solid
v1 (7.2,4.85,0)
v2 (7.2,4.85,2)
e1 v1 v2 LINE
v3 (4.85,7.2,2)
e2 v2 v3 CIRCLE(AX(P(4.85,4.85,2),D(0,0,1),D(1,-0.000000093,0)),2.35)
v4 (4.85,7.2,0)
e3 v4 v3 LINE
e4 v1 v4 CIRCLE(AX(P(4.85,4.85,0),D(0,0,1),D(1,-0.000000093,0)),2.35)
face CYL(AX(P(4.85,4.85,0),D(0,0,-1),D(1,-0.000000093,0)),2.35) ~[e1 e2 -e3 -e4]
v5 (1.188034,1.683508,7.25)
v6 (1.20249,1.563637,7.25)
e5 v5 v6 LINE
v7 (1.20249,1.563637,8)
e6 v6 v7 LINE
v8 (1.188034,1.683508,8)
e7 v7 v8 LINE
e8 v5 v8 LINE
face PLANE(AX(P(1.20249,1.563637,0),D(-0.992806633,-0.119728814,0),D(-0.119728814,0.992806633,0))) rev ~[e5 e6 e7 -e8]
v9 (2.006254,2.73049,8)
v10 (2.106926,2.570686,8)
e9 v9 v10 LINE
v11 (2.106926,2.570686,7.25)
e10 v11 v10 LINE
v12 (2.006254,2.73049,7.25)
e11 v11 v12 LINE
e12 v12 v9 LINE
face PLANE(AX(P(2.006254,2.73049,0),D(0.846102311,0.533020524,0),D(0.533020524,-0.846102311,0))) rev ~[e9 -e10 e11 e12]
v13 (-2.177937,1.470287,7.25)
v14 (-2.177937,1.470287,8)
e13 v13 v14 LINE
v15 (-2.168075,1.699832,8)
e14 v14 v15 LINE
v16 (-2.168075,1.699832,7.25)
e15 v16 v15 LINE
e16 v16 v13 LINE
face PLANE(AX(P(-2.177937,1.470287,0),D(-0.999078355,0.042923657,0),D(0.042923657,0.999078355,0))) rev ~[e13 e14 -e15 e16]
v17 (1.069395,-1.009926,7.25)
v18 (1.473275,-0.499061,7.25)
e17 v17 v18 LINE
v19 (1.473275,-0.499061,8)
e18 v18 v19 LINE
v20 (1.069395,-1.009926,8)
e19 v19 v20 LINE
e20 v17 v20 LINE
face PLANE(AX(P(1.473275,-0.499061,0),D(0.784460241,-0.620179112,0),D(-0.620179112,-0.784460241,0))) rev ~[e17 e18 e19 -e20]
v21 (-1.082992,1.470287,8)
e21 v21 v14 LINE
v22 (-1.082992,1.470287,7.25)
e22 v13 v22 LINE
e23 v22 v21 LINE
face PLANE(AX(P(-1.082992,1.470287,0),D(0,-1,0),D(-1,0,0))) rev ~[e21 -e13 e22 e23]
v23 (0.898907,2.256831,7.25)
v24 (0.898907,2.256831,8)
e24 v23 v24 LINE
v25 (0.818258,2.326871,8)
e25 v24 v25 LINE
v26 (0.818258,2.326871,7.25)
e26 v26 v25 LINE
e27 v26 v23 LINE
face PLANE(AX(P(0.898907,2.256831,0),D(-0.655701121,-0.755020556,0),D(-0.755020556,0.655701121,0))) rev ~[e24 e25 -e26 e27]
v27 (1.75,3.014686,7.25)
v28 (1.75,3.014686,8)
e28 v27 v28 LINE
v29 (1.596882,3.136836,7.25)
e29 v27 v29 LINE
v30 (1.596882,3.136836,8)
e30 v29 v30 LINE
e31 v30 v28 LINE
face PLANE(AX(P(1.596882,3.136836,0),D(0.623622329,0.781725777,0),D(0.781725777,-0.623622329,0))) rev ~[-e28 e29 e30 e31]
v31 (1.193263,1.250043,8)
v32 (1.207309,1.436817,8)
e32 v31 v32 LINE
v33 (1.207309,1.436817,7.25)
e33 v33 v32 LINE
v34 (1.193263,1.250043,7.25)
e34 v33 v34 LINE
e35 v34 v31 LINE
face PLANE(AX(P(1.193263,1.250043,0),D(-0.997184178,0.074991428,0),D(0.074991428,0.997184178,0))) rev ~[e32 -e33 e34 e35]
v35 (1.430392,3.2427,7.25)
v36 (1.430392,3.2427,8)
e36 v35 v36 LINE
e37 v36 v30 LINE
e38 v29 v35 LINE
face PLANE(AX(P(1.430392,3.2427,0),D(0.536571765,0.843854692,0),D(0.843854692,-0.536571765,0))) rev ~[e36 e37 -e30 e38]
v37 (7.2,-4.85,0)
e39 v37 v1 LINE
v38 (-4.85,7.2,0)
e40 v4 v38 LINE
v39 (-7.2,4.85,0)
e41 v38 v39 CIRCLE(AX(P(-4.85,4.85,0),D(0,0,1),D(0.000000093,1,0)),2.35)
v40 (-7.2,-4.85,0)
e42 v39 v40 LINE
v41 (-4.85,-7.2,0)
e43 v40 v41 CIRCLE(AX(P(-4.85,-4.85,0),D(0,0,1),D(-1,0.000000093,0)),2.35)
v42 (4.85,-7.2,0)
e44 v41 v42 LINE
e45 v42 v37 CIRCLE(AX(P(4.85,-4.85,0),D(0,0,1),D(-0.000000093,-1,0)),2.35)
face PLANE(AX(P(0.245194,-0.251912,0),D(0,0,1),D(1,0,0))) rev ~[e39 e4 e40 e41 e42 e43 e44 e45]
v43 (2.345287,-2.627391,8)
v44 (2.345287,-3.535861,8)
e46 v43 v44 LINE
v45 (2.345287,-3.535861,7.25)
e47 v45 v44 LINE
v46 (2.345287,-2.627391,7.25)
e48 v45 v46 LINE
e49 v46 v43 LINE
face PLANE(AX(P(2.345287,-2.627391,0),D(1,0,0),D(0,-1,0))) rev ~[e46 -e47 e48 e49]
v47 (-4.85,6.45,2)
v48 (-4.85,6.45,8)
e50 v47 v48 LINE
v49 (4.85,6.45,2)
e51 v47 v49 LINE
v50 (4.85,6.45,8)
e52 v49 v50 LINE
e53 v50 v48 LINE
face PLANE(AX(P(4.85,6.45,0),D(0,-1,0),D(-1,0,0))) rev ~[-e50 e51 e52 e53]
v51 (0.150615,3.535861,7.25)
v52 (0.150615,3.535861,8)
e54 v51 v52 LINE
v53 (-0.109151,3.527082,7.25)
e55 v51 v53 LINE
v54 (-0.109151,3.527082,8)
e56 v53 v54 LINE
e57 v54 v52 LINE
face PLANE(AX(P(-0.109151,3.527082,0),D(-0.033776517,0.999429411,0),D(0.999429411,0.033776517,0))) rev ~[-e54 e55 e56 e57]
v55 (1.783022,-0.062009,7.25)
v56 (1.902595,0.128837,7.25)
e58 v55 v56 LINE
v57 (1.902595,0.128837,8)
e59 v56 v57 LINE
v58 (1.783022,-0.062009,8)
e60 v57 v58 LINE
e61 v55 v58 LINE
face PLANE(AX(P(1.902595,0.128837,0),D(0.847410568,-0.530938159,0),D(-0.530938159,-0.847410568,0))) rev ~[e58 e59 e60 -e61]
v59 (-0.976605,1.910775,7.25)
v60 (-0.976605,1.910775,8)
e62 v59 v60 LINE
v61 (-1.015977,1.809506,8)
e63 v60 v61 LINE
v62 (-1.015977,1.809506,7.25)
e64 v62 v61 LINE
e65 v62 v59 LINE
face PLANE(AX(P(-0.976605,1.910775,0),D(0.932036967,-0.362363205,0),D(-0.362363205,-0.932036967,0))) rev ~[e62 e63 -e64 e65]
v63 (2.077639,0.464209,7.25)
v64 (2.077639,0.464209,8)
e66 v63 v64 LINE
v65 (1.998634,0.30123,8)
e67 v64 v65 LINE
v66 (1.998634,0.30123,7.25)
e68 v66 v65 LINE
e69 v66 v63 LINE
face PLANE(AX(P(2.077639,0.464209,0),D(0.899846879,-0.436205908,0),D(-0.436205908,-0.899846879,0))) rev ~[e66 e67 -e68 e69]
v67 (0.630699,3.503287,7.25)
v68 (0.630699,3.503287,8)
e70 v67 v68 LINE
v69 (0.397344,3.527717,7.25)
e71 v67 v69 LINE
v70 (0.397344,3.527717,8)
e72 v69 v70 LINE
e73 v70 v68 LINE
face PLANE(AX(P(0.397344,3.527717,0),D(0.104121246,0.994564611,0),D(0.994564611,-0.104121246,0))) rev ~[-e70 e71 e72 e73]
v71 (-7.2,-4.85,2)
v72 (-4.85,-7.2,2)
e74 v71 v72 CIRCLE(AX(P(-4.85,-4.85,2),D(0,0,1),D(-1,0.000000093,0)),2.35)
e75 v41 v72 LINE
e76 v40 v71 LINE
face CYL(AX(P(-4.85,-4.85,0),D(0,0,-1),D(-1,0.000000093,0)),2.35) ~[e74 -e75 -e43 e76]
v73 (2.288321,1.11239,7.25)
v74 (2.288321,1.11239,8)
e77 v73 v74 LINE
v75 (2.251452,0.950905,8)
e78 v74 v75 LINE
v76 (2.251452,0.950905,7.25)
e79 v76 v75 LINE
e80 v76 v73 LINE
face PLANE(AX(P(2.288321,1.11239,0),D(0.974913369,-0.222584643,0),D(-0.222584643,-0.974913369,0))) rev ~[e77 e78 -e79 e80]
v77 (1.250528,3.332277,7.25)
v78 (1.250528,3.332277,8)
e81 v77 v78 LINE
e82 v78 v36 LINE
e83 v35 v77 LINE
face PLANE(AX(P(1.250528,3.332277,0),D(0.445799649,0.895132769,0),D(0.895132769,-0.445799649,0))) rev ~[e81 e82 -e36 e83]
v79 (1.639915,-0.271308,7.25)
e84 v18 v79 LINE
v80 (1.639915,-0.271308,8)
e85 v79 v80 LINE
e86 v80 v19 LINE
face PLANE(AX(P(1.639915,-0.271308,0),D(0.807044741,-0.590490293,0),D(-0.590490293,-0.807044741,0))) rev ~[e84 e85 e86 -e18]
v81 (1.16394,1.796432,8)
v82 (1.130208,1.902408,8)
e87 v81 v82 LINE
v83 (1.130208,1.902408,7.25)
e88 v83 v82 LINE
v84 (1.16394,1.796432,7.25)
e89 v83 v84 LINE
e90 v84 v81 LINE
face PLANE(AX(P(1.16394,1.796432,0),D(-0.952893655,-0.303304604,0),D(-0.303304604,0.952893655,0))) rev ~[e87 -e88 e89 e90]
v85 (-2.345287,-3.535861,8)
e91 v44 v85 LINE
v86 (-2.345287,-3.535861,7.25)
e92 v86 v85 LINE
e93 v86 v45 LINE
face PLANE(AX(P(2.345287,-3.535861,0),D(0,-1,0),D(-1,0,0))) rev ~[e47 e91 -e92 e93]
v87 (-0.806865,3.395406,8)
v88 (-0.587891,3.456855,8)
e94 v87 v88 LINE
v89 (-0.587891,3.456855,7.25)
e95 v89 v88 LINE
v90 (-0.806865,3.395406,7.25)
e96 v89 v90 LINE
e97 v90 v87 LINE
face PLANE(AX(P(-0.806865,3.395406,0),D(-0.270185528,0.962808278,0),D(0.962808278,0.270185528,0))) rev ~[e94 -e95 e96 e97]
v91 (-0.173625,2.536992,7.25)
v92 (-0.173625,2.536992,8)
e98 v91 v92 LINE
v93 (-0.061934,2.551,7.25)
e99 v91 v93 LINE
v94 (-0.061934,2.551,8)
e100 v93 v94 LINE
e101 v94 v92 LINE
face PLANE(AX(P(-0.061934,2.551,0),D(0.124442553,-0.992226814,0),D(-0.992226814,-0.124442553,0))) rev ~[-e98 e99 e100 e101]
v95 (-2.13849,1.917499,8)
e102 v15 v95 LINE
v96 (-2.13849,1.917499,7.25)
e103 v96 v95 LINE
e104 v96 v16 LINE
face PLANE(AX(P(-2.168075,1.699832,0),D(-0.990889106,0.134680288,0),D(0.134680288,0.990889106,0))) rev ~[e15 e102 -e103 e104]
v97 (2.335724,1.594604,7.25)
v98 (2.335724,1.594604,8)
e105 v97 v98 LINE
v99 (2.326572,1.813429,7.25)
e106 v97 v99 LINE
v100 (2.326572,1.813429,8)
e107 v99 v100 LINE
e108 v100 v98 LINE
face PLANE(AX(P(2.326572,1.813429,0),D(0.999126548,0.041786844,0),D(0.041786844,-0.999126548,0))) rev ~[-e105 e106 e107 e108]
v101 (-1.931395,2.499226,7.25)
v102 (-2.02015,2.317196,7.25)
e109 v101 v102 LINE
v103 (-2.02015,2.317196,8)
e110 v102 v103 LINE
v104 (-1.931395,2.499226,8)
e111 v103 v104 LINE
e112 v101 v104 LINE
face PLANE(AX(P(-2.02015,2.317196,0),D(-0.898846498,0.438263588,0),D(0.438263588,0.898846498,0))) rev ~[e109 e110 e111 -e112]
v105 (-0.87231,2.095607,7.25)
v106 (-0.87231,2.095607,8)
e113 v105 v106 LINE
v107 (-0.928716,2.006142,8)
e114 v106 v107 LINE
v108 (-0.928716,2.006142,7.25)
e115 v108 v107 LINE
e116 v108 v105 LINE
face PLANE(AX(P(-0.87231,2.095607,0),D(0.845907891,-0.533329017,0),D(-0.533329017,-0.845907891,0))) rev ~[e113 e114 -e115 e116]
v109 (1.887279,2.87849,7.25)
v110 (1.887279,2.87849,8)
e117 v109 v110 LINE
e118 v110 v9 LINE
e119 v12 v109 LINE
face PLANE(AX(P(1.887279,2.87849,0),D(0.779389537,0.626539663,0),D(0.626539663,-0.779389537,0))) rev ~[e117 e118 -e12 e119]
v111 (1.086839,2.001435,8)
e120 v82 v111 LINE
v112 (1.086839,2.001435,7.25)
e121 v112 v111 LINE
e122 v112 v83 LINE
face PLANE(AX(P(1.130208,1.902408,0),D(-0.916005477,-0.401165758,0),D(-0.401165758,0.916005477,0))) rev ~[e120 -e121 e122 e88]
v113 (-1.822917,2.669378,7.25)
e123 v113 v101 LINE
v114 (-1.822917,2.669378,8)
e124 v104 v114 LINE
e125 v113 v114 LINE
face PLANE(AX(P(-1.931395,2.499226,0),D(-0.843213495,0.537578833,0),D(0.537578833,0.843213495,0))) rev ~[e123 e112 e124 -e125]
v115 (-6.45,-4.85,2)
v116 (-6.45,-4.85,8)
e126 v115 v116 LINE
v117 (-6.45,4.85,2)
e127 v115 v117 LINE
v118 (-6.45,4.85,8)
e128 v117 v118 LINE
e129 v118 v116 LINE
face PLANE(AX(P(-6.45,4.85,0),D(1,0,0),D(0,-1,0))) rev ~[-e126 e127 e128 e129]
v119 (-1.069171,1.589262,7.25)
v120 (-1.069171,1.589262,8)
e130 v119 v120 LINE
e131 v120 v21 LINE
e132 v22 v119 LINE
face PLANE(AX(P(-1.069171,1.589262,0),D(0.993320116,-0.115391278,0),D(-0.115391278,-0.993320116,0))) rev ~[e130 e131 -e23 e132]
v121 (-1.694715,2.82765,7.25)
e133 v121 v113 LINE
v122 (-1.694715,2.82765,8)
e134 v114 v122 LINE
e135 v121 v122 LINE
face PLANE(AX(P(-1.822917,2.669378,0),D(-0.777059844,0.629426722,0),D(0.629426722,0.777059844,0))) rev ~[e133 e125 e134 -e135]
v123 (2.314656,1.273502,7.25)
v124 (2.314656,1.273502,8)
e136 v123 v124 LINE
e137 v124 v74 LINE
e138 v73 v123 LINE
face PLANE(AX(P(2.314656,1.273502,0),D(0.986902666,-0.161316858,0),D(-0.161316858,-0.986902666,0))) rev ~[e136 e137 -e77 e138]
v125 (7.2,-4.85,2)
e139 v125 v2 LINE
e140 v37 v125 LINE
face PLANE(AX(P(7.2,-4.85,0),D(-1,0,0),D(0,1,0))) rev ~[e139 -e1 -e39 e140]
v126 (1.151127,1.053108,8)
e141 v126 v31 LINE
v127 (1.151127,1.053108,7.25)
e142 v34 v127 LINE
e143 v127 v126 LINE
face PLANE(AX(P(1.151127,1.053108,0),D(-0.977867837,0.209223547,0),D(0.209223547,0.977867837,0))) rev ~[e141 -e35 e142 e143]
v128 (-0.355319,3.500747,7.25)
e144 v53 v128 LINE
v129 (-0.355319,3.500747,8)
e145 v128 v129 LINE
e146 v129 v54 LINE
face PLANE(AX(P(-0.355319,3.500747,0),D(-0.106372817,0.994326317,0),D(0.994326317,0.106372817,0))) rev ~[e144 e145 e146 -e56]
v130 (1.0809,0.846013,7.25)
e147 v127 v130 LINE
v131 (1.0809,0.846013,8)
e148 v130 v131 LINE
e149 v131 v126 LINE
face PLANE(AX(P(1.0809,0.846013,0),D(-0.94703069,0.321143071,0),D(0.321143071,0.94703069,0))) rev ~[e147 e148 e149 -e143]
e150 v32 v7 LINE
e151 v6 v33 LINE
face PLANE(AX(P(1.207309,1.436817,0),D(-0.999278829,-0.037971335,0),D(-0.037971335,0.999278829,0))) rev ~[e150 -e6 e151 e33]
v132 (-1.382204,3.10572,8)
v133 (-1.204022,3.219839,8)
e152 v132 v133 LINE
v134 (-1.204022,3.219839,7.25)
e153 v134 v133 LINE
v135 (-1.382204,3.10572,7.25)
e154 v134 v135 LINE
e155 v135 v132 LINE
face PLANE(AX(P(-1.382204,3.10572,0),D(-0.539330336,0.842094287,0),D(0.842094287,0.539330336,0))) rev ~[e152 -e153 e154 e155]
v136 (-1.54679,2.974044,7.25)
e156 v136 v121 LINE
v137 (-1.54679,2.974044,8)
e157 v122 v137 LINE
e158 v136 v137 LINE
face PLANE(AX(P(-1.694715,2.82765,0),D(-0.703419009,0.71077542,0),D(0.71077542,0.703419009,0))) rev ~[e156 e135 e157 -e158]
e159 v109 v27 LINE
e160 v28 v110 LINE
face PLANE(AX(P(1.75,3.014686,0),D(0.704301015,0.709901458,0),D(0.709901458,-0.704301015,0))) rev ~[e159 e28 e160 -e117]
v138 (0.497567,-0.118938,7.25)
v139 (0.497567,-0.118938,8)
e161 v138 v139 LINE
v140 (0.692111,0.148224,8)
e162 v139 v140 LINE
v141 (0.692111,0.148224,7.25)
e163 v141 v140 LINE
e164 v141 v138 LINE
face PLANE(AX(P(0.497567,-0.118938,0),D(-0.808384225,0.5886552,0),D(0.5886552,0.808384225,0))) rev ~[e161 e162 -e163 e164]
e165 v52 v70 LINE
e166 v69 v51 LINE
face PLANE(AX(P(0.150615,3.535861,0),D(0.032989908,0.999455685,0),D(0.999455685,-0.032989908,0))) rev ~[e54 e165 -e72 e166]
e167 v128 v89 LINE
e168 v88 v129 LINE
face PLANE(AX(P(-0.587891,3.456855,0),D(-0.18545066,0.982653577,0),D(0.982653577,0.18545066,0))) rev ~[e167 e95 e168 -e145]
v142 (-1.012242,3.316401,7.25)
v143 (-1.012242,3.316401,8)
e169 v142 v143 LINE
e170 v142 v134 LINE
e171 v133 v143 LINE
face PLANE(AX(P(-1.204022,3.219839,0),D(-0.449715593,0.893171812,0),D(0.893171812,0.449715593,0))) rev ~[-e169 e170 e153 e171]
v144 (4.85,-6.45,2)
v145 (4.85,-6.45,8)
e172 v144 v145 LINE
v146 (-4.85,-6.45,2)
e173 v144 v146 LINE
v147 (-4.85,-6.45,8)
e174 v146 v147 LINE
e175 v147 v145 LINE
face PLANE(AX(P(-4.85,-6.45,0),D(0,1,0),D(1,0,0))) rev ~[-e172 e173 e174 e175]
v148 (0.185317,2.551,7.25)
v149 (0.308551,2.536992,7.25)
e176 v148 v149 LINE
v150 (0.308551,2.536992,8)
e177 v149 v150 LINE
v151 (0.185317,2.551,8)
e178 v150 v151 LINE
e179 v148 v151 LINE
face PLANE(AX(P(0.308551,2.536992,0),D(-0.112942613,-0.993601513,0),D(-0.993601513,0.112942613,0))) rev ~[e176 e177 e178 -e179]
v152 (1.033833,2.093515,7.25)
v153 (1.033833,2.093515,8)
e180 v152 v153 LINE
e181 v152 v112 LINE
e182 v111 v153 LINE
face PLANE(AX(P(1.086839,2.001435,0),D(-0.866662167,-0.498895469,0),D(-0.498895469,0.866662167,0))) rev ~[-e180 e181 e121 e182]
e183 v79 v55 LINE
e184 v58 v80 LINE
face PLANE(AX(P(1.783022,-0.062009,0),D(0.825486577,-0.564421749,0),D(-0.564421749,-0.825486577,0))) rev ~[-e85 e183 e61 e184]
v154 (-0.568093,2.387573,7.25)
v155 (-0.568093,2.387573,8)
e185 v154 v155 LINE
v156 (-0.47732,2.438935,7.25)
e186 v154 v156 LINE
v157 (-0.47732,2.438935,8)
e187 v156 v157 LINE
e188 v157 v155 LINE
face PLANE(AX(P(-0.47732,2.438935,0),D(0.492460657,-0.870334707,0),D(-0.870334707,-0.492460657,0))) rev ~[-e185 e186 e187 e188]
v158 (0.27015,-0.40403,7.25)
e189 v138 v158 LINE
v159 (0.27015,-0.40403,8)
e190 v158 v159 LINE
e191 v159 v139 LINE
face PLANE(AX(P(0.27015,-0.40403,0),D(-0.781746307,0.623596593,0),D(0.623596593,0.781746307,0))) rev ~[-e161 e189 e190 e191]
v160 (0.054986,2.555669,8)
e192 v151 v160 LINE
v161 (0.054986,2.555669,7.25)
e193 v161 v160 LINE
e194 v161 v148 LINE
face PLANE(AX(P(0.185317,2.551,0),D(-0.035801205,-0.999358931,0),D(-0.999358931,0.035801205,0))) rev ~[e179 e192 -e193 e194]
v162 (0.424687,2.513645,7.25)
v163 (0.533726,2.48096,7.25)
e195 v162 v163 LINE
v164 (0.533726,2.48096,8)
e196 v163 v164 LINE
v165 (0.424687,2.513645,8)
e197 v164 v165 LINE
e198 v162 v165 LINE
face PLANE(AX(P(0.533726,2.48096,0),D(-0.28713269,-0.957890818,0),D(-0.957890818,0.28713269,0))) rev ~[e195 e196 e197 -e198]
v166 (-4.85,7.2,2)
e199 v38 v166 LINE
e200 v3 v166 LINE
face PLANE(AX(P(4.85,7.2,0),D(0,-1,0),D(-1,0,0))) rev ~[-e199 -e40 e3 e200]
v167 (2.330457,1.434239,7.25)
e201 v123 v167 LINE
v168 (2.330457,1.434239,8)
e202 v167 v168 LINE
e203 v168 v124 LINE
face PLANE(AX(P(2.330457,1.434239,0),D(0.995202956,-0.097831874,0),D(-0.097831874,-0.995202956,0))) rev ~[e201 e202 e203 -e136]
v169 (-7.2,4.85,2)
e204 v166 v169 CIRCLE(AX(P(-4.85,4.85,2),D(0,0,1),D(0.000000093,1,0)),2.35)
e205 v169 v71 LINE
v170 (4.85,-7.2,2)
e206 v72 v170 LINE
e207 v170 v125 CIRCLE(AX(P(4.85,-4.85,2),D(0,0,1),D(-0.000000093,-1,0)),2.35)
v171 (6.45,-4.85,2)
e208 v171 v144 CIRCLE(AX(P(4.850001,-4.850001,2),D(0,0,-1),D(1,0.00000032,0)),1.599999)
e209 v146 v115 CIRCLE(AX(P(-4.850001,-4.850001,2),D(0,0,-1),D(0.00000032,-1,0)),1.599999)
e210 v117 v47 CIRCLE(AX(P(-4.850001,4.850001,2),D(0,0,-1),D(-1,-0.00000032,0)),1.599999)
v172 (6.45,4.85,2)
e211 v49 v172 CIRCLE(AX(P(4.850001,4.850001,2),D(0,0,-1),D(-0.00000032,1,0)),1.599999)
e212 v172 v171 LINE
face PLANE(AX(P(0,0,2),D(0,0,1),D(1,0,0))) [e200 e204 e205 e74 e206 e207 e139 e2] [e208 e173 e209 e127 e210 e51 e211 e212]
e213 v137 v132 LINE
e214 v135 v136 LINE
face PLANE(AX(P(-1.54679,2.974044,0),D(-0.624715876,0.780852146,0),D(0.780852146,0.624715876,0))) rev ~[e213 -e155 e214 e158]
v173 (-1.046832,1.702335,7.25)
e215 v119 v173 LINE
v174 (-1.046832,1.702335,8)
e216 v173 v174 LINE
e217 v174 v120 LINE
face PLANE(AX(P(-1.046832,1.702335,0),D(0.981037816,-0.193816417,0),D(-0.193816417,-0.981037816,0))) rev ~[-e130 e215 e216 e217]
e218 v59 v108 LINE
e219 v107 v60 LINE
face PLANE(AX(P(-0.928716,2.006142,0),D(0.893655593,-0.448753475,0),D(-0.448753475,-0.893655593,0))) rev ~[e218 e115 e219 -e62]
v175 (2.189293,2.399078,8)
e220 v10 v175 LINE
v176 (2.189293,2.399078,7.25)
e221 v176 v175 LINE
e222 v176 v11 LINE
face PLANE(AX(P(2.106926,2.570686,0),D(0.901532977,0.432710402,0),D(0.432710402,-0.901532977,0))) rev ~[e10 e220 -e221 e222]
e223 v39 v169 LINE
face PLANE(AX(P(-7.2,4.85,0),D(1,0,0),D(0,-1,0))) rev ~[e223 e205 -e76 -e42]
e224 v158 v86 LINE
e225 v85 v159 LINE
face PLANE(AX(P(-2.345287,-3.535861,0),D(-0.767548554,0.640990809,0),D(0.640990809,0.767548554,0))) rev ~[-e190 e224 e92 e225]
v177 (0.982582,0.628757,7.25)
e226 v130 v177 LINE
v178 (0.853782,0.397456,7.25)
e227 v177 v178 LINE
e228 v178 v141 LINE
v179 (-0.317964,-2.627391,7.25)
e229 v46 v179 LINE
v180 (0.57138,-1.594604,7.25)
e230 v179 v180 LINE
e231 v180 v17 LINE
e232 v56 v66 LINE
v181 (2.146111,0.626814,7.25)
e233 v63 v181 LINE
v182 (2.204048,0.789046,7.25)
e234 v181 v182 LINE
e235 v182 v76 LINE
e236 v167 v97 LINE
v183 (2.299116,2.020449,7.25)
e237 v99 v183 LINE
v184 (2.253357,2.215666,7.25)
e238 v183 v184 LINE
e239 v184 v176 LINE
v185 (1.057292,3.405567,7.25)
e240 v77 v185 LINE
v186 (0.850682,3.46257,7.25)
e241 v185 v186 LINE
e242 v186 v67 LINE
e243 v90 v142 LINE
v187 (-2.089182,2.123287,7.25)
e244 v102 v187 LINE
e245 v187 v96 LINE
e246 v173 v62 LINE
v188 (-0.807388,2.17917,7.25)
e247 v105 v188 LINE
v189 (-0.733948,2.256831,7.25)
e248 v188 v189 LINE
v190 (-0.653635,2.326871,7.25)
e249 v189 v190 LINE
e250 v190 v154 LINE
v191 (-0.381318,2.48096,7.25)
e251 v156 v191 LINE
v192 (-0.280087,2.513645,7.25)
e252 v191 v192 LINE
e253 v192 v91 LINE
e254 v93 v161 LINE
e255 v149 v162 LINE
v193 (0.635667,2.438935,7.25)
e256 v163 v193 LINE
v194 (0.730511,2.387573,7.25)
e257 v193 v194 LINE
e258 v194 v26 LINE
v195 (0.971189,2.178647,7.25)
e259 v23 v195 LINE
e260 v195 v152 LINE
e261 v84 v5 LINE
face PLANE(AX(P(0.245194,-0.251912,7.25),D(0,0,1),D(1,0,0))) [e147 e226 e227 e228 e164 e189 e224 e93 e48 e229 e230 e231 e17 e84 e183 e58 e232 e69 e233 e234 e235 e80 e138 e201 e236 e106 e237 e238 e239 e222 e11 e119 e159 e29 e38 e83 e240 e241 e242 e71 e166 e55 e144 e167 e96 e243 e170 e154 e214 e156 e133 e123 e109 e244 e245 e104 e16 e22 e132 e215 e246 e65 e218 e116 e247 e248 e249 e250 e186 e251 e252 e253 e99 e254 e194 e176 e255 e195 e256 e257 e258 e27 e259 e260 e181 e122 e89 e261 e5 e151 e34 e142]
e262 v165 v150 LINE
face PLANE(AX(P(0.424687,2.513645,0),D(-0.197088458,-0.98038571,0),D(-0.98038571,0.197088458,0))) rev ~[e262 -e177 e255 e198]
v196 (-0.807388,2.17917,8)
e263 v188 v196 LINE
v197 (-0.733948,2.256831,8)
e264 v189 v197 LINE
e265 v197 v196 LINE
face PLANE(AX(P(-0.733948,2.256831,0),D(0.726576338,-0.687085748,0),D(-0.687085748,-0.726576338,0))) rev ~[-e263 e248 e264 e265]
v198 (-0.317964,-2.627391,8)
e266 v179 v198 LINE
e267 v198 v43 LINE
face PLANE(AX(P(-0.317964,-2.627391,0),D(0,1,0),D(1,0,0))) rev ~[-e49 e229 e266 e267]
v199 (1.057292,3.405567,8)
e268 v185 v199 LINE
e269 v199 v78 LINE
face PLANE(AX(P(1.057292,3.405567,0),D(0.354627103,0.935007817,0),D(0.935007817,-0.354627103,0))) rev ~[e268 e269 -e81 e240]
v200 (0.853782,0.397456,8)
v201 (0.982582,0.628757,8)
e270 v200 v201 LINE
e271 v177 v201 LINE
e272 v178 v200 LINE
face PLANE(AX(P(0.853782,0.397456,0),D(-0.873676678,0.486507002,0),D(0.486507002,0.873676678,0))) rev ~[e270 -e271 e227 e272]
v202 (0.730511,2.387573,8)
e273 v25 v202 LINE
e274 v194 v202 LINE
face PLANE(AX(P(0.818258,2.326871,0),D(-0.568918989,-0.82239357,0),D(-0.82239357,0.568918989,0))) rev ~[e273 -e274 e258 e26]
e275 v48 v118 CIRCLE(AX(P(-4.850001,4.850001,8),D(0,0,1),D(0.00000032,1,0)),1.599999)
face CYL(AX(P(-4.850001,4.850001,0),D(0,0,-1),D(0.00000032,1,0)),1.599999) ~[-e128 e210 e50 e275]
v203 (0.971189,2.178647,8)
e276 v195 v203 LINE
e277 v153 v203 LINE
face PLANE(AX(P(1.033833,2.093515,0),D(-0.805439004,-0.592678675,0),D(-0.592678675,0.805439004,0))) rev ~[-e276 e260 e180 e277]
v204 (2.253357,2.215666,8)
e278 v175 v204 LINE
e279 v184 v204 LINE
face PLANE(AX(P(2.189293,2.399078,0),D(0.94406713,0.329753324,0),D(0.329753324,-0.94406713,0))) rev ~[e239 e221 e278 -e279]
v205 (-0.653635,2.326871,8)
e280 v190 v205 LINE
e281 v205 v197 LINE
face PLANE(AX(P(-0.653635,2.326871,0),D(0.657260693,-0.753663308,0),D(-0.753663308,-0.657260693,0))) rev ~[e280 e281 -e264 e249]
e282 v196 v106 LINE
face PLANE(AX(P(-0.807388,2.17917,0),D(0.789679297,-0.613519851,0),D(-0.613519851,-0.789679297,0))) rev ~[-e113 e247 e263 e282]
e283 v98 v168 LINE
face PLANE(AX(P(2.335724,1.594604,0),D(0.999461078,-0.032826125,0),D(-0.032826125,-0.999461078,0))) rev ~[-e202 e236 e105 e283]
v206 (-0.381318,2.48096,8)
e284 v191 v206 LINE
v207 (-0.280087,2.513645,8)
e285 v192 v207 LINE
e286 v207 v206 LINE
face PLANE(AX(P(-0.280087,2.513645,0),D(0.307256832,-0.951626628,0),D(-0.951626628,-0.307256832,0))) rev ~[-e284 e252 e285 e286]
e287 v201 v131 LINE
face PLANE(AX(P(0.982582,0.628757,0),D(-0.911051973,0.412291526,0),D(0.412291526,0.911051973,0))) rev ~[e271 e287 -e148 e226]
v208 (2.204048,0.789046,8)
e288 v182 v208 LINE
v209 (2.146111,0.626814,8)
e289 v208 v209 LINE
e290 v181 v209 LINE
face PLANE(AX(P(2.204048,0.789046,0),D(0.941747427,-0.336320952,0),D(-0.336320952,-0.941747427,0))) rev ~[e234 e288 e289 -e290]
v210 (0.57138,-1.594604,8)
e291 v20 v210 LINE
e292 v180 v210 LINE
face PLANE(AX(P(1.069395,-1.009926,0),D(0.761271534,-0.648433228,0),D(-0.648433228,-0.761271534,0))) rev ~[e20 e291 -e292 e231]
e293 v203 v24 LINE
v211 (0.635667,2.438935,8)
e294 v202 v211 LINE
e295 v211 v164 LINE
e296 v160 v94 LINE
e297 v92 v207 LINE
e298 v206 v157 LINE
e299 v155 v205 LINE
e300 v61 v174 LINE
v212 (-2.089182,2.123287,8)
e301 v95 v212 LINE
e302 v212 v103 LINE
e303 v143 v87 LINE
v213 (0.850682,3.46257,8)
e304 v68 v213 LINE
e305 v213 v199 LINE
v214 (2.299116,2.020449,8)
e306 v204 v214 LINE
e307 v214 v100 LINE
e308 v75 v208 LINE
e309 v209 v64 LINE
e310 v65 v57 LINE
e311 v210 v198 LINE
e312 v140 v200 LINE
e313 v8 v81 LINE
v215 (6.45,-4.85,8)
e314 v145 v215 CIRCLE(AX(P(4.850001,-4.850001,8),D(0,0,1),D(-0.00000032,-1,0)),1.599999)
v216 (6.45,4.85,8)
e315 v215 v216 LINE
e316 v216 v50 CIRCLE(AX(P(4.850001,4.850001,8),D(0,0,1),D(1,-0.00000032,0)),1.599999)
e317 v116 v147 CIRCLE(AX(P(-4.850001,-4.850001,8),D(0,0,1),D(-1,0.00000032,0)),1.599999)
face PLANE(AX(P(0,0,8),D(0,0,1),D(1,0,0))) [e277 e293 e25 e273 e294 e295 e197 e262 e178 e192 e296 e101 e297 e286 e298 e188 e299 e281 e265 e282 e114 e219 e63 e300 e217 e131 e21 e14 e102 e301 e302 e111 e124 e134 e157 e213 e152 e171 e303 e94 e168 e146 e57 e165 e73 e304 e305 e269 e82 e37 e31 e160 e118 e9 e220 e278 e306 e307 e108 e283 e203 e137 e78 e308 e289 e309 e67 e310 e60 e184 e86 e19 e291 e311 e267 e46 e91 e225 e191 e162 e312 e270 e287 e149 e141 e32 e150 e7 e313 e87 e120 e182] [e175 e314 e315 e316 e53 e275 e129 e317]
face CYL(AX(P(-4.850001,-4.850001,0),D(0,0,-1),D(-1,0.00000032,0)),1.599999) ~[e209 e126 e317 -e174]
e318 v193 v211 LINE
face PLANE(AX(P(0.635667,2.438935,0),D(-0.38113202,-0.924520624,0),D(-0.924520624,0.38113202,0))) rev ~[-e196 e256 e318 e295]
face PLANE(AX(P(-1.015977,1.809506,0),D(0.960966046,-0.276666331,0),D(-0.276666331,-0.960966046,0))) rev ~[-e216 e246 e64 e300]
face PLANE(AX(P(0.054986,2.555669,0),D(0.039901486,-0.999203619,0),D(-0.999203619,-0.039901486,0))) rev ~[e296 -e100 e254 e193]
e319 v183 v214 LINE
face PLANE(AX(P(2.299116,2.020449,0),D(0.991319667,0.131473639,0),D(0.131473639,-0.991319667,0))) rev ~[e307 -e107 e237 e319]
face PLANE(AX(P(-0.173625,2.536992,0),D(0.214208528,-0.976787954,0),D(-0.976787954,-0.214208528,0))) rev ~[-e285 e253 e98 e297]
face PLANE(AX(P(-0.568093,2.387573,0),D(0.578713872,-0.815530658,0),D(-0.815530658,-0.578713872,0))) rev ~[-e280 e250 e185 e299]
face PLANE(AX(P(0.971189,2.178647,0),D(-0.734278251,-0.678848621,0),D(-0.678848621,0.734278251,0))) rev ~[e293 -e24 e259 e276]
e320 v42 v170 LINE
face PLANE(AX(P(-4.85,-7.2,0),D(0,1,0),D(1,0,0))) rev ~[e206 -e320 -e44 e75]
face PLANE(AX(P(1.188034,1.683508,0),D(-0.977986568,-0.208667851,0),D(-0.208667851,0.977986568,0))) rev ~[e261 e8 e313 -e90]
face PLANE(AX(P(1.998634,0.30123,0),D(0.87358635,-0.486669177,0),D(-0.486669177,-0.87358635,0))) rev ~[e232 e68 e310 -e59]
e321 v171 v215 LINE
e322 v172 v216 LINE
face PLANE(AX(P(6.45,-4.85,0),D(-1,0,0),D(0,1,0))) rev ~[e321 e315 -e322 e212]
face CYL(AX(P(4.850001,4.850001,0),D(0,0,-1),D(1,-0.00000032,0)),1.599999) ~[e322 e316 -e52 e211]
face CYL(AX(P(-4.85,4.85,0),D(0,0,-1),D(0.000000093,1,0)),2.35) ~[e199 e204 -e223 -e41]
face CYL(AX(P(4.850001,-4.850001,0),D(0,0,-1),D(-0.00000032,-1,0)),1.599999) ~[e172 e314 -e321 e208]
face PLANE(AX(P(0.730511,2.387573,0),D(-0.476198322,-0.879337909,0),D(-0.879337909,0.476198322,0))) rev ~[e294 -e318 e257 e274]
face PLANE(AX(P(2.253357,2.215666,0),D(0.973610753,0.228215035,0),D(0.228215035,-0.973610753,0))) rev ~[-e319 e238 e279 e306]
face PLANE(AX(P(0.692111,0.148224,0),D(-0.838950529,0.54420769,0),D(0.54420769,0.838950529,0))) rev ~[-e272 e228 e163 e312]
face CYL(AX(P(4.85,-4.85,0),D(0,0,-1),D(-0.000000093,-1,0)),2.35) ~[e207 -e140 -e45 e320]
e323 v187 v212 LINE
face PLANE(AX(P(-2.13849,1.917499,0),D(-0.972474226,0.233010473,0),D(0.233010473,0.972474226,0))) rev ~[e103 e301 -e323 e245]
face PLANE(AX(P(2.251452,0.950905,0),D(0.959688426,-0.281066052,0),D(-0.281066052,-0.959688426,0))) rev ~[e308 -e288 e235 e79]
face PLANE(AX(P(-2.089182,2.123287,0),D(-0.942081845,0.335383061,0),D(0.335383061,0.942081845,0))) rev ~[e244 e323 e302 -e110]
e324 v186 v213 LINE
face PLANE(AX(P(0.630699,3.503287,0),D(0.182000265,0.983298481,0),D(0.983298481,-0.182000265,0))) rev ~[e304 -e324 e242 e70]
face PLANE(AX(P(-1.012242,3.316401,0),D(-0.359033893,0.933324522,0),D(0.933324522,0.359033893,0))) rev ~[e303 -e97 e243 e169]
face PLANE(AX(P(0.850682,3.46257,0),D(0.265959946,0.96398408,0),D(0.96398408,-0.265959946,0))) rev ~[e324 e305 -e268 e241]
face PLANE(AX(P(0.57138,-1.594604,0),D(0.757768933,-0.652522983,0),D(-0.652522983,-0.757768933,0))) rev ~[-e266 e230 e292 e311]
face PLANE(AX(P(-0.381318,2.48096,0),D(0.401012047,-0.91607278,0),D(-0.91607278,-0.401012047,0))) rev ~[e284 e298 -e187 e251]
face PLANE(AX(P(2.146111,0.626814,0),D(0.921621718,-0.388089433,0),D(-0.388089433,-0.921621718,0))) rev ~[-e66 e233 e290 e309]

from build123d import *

# Parameters (mm, degrees)
F1_DEPTH = 2
F2_DEPTH = 8
F3_DEPTH = 7.25


with BuildPart() as f1:
    # F0 (on Top) → F1 (new body)
    with BuildSketch(Plane.XY):
        with BuildLine():
            Line((4.85, 7.2), (-4.85, 7.2))
            ThreePointArc((-4.85, 7.2), (-6.511701, 6.511701), (-7.2, 4.85))
            Line((-7.2, 4.85), (-7.2, -4.85))
            ThreePointArc((-7.2, -4.85), (-6.511701, -6.511701), (-4.85, -7.2))
            Line((-4.85, -7.2), (4.85, -7.2))
            ThreePointArc((4.85, -7.2), (6.511701, -6.511701), (7.2, -4.85))
            Line((7.2, -4.85), (7.2, 4.85))
            ThreePointArc((7.2, 4.85), (6.511701, 6.511701), (4.85, 7.2))
        make_face()
        with BuildLine():
            ThreePointArc((6.45, -4.85), (5.981371, -5.981371), (4.85, -6.45))
            Line((4.85, -6.45), (-4.85, -6.45))
            ThreePointArc((-4.85, -6.45), (-5.981371, -5.981371), (-6.45, -4.85))
            Line((-6.45, -4.85), (-6.45, 4.85))
            ThreePointArc((-6.45, 4.85), (-5.981371, 5.981371), (-4.85, 6.45))
            Line((-4.85, 6.45), (4.85, 6.45))
            ThreePointArc((4.85, 6.45), (5.981371, 5.981371), (6.45, 4.85))
            Line((6.45, 4.85), (6.45, -4.85))
        make_face(mode=Mode.SUBTRACT)
    extrude(amount=F1_DEPTH)

    # F0 (on Top) → F2 (join)
    with BuildSketch(Plane.XY):
        with BuildLine():
            Line((-4.85, -6.45), (4.85, -6.45))
            ThreePointArc((4.85, -6.45), (5.981371, -5.981371), (6.45, -4.85))
            Line((6.45, -4.85), (6.45, 4.85))
            ThreePointArc((6.45, 4.85), (5.981371, 5.981371), (4.85, 6.45))
            Line((4.85, 6.45), (-4.85, 6.45))
            ThreePointArc((-4.85, 6.45), (-5.981371, 5.981371), (-6.45, 4.85))
            Line((-6.45, 4.85), (-6.45, -4.85))
            ThreePointArc((-6.45, -4.85), (-5.981371, -5.981371), (-4.85, -6.45))
        make_face()
        Polygon((-0.317964, -2.627391), (2.345287, -2.627391), (2.345287, -3.535861), (-2.345287, -3.535861), (0.27015, -0.40403), (0.497567, -0.118938), (0.692111, 0.148224), (0.853782, 0.397456), (0.982582, 0.628757), (1.0809, 0.846013), (1.151127, 1.053108), (1.193263, 1.250043), (1.207309, 1.436817), (1.20249, 1.563637), (1.188034, 1.683508), (1.16394, 1.796432), (1.130208, 1.902408), (1.086839, 2.001435), (1.033833, 2.093515), (0.971189, 2.178647), (0.898907, 2.256831), (0.818258, 2.326871), (0.730511, 2.387573), (0.635667, 2.438935), (0.533726, 2.48096), (0.424687, 2.513645), (0.308551, 2.536992), (0.185317, 2.551), (0.054986, 2.555669), (-0.061934, 2.551), (-0.173625, 2.536992), (-0.280087, 2.513645), (-0.381318, 2.48096), (-0.47732, 2.438935), (-0.568093, 2.387573), (-0.653635, 2.326871), (-0.733948, 2.256831), (-0.807388, 2.17917), (-0.87231, 2.095607), (-0.928716, 2.006142), (-0.976605, 1.910775), (-1.015977, 1.809506), (-1.046832, 1.702335), (-1.069171, 1.589262), (-1.082992, 1.470287), (-2.177937, 1.470287), (-2.168075, 1.699832), (-2.13849, 1.917499), (-2.089182, 2.123287), (-2.02015, 2.317196), (-1.931395, 2.499226), (-1.822917, 2.669378), (-1.694715, 2.82765), (-1.54679, 2.974044), (-1.382204, 3.10572), (-1.204022, 3.219839), (-1.012242, 3.316401), (-0.806865, 3.395406), (-0.587891, 3.456855), (-0.355319, 3.500747), (-0.109151, 3.527082), (0.150615, 3.535861), (0.397344, 3.527717), (0.630699, 3.503287), (0.850682, 3.46257), (1.057292, 3.405567), (1.250528, 3.332277), (1.430392, 3.2427), (1.596882, 3.136836), (1.75, 3.014686), (1.887279, 2.87849), (2.006254, 2.73049), (2.106926, 2.570686), (2.189293, 2.399078), (2.253357, 2.215666), (2.299116, 2.020449), (2.326572, 1.813429), (2.335724, 1.594604), (2.330457, 1.434239), (2.314656, 1.273502), (2.288321, 1.11239), (2.251452, 0.950905), (2.204048, 0.789046), (2.146111, 0.626814), (2.077639, 0.464209), (1.998634, 0.30123), (1.902595, 0.128837), (1.783022, -0.062009), (1.639915, -0.271308), (1.473275, -0.499061), (1.069395, -1.009926), (0.57138, -1.594604), align=None, mode=Mode.SUBTRACT)
    extrude(amount=F2_DEPTH)

    # F0 (on Top) → F3 (join)
    with BuildSketch(Plane.XY):
        Polygon((2.345287, -3.535861), (2.345287, -2.627391), (-0.317964, -2.627391), (0.57138, -1.594604), (1.069395, -1.009926), (1.473275, -0.499061), (1.639915, -0.271308), (1.783022, -0.062009), (1.902595, 0.128837), (1.998634, 0.30123), (2.077639, 0.464209), (2.146111, 0.626814), (2.204048, 0.789046), (2.251452, 0.950905), (2.288321, 1.11239), (2.314656, 1.273502), (2.330457, 1.434239), (2.335724, 1.594604), (2.326572, 1.813429), (2.299116, 2.020449), (2.253357, 2.215666), (2.189293, 2.399078), (2.106926, 2.570686), (2.006254, 2.73049), (1.887279, 2.87849), (1.75, 3.014686), (1.596882, 3.136836), (1.430392, 3.2427), (1.250528, 3.332277), (1.057292, 3.405567), (0.850682, 3.46257), (0.630699, 3.503287), (0.397344, 3.527717), (0.150615, 3.535861), (-0.109151, 3.527082), (-0.355319, 3.500747), (-0.587891, 3.456855), (-0.806865, 3.395406), (-1.012242, 3.316401), (-1.204022, 3.219839), (-1.382204, 3.10572), (-1.54679, 2.974044), (-1.694715, 2.82765), (-1.822917, 2.669378), (-1.931395, 2.499226), (-2.02015, 2.317196), (-2.089182, 2.123287), (-2.13849, 1.917499), (-2.168075, 1.699832), (-2.177937, 1.470287), (-1.082992, 1.470287), (-1.069171, 1.589262), (-1.046832, 1.702335), (-1.015977, 1.809506), (-0.976605, 1.910775), (-0.928716, 2.006142), (-0.87231, 2.095607), (-0.807388, 2.17917), (-0.733948, 2.256831), (-0.653635, 2.326871), (-0.568093, 2.387573), (-0.47732, 2.438935), (-0.381318, 2.48096), (-0.280087, 2.513645), (-0.173625, 2.536992), (-0.061934, 2.551), (0.054986, 2.555669), (0.185317, 2.551), (0.308551, 2.536992), (0.424687, 2.513645), (0.533726, 2.48096), (0.635667, 2.438935), (0.730511, 2.387573), (0.818258, 2.326871), (0.898907, 2.256831), (0.971189, 2.178647), (1.033833, 2.093515), (1.086839, 2.001435), (1.130208, 1.902408), (1.16394, 1.796432), (1.188034, 1.683508), (1.20249, 1.563637), (1.207309, 1.436817), (1.193263, 1.250043), (1.151127, 1.053108), (1.0809, 0.846013), (0.982582, 0.628757), (0.853782, 0.397456), (0.692111, 0.148224), (0.497567, -0.118938), (0.27015, -0.40403), (-2.345287, -3.535861), align=None)
    extrude(amount=F3_DEPTH)


solid = f1.part
